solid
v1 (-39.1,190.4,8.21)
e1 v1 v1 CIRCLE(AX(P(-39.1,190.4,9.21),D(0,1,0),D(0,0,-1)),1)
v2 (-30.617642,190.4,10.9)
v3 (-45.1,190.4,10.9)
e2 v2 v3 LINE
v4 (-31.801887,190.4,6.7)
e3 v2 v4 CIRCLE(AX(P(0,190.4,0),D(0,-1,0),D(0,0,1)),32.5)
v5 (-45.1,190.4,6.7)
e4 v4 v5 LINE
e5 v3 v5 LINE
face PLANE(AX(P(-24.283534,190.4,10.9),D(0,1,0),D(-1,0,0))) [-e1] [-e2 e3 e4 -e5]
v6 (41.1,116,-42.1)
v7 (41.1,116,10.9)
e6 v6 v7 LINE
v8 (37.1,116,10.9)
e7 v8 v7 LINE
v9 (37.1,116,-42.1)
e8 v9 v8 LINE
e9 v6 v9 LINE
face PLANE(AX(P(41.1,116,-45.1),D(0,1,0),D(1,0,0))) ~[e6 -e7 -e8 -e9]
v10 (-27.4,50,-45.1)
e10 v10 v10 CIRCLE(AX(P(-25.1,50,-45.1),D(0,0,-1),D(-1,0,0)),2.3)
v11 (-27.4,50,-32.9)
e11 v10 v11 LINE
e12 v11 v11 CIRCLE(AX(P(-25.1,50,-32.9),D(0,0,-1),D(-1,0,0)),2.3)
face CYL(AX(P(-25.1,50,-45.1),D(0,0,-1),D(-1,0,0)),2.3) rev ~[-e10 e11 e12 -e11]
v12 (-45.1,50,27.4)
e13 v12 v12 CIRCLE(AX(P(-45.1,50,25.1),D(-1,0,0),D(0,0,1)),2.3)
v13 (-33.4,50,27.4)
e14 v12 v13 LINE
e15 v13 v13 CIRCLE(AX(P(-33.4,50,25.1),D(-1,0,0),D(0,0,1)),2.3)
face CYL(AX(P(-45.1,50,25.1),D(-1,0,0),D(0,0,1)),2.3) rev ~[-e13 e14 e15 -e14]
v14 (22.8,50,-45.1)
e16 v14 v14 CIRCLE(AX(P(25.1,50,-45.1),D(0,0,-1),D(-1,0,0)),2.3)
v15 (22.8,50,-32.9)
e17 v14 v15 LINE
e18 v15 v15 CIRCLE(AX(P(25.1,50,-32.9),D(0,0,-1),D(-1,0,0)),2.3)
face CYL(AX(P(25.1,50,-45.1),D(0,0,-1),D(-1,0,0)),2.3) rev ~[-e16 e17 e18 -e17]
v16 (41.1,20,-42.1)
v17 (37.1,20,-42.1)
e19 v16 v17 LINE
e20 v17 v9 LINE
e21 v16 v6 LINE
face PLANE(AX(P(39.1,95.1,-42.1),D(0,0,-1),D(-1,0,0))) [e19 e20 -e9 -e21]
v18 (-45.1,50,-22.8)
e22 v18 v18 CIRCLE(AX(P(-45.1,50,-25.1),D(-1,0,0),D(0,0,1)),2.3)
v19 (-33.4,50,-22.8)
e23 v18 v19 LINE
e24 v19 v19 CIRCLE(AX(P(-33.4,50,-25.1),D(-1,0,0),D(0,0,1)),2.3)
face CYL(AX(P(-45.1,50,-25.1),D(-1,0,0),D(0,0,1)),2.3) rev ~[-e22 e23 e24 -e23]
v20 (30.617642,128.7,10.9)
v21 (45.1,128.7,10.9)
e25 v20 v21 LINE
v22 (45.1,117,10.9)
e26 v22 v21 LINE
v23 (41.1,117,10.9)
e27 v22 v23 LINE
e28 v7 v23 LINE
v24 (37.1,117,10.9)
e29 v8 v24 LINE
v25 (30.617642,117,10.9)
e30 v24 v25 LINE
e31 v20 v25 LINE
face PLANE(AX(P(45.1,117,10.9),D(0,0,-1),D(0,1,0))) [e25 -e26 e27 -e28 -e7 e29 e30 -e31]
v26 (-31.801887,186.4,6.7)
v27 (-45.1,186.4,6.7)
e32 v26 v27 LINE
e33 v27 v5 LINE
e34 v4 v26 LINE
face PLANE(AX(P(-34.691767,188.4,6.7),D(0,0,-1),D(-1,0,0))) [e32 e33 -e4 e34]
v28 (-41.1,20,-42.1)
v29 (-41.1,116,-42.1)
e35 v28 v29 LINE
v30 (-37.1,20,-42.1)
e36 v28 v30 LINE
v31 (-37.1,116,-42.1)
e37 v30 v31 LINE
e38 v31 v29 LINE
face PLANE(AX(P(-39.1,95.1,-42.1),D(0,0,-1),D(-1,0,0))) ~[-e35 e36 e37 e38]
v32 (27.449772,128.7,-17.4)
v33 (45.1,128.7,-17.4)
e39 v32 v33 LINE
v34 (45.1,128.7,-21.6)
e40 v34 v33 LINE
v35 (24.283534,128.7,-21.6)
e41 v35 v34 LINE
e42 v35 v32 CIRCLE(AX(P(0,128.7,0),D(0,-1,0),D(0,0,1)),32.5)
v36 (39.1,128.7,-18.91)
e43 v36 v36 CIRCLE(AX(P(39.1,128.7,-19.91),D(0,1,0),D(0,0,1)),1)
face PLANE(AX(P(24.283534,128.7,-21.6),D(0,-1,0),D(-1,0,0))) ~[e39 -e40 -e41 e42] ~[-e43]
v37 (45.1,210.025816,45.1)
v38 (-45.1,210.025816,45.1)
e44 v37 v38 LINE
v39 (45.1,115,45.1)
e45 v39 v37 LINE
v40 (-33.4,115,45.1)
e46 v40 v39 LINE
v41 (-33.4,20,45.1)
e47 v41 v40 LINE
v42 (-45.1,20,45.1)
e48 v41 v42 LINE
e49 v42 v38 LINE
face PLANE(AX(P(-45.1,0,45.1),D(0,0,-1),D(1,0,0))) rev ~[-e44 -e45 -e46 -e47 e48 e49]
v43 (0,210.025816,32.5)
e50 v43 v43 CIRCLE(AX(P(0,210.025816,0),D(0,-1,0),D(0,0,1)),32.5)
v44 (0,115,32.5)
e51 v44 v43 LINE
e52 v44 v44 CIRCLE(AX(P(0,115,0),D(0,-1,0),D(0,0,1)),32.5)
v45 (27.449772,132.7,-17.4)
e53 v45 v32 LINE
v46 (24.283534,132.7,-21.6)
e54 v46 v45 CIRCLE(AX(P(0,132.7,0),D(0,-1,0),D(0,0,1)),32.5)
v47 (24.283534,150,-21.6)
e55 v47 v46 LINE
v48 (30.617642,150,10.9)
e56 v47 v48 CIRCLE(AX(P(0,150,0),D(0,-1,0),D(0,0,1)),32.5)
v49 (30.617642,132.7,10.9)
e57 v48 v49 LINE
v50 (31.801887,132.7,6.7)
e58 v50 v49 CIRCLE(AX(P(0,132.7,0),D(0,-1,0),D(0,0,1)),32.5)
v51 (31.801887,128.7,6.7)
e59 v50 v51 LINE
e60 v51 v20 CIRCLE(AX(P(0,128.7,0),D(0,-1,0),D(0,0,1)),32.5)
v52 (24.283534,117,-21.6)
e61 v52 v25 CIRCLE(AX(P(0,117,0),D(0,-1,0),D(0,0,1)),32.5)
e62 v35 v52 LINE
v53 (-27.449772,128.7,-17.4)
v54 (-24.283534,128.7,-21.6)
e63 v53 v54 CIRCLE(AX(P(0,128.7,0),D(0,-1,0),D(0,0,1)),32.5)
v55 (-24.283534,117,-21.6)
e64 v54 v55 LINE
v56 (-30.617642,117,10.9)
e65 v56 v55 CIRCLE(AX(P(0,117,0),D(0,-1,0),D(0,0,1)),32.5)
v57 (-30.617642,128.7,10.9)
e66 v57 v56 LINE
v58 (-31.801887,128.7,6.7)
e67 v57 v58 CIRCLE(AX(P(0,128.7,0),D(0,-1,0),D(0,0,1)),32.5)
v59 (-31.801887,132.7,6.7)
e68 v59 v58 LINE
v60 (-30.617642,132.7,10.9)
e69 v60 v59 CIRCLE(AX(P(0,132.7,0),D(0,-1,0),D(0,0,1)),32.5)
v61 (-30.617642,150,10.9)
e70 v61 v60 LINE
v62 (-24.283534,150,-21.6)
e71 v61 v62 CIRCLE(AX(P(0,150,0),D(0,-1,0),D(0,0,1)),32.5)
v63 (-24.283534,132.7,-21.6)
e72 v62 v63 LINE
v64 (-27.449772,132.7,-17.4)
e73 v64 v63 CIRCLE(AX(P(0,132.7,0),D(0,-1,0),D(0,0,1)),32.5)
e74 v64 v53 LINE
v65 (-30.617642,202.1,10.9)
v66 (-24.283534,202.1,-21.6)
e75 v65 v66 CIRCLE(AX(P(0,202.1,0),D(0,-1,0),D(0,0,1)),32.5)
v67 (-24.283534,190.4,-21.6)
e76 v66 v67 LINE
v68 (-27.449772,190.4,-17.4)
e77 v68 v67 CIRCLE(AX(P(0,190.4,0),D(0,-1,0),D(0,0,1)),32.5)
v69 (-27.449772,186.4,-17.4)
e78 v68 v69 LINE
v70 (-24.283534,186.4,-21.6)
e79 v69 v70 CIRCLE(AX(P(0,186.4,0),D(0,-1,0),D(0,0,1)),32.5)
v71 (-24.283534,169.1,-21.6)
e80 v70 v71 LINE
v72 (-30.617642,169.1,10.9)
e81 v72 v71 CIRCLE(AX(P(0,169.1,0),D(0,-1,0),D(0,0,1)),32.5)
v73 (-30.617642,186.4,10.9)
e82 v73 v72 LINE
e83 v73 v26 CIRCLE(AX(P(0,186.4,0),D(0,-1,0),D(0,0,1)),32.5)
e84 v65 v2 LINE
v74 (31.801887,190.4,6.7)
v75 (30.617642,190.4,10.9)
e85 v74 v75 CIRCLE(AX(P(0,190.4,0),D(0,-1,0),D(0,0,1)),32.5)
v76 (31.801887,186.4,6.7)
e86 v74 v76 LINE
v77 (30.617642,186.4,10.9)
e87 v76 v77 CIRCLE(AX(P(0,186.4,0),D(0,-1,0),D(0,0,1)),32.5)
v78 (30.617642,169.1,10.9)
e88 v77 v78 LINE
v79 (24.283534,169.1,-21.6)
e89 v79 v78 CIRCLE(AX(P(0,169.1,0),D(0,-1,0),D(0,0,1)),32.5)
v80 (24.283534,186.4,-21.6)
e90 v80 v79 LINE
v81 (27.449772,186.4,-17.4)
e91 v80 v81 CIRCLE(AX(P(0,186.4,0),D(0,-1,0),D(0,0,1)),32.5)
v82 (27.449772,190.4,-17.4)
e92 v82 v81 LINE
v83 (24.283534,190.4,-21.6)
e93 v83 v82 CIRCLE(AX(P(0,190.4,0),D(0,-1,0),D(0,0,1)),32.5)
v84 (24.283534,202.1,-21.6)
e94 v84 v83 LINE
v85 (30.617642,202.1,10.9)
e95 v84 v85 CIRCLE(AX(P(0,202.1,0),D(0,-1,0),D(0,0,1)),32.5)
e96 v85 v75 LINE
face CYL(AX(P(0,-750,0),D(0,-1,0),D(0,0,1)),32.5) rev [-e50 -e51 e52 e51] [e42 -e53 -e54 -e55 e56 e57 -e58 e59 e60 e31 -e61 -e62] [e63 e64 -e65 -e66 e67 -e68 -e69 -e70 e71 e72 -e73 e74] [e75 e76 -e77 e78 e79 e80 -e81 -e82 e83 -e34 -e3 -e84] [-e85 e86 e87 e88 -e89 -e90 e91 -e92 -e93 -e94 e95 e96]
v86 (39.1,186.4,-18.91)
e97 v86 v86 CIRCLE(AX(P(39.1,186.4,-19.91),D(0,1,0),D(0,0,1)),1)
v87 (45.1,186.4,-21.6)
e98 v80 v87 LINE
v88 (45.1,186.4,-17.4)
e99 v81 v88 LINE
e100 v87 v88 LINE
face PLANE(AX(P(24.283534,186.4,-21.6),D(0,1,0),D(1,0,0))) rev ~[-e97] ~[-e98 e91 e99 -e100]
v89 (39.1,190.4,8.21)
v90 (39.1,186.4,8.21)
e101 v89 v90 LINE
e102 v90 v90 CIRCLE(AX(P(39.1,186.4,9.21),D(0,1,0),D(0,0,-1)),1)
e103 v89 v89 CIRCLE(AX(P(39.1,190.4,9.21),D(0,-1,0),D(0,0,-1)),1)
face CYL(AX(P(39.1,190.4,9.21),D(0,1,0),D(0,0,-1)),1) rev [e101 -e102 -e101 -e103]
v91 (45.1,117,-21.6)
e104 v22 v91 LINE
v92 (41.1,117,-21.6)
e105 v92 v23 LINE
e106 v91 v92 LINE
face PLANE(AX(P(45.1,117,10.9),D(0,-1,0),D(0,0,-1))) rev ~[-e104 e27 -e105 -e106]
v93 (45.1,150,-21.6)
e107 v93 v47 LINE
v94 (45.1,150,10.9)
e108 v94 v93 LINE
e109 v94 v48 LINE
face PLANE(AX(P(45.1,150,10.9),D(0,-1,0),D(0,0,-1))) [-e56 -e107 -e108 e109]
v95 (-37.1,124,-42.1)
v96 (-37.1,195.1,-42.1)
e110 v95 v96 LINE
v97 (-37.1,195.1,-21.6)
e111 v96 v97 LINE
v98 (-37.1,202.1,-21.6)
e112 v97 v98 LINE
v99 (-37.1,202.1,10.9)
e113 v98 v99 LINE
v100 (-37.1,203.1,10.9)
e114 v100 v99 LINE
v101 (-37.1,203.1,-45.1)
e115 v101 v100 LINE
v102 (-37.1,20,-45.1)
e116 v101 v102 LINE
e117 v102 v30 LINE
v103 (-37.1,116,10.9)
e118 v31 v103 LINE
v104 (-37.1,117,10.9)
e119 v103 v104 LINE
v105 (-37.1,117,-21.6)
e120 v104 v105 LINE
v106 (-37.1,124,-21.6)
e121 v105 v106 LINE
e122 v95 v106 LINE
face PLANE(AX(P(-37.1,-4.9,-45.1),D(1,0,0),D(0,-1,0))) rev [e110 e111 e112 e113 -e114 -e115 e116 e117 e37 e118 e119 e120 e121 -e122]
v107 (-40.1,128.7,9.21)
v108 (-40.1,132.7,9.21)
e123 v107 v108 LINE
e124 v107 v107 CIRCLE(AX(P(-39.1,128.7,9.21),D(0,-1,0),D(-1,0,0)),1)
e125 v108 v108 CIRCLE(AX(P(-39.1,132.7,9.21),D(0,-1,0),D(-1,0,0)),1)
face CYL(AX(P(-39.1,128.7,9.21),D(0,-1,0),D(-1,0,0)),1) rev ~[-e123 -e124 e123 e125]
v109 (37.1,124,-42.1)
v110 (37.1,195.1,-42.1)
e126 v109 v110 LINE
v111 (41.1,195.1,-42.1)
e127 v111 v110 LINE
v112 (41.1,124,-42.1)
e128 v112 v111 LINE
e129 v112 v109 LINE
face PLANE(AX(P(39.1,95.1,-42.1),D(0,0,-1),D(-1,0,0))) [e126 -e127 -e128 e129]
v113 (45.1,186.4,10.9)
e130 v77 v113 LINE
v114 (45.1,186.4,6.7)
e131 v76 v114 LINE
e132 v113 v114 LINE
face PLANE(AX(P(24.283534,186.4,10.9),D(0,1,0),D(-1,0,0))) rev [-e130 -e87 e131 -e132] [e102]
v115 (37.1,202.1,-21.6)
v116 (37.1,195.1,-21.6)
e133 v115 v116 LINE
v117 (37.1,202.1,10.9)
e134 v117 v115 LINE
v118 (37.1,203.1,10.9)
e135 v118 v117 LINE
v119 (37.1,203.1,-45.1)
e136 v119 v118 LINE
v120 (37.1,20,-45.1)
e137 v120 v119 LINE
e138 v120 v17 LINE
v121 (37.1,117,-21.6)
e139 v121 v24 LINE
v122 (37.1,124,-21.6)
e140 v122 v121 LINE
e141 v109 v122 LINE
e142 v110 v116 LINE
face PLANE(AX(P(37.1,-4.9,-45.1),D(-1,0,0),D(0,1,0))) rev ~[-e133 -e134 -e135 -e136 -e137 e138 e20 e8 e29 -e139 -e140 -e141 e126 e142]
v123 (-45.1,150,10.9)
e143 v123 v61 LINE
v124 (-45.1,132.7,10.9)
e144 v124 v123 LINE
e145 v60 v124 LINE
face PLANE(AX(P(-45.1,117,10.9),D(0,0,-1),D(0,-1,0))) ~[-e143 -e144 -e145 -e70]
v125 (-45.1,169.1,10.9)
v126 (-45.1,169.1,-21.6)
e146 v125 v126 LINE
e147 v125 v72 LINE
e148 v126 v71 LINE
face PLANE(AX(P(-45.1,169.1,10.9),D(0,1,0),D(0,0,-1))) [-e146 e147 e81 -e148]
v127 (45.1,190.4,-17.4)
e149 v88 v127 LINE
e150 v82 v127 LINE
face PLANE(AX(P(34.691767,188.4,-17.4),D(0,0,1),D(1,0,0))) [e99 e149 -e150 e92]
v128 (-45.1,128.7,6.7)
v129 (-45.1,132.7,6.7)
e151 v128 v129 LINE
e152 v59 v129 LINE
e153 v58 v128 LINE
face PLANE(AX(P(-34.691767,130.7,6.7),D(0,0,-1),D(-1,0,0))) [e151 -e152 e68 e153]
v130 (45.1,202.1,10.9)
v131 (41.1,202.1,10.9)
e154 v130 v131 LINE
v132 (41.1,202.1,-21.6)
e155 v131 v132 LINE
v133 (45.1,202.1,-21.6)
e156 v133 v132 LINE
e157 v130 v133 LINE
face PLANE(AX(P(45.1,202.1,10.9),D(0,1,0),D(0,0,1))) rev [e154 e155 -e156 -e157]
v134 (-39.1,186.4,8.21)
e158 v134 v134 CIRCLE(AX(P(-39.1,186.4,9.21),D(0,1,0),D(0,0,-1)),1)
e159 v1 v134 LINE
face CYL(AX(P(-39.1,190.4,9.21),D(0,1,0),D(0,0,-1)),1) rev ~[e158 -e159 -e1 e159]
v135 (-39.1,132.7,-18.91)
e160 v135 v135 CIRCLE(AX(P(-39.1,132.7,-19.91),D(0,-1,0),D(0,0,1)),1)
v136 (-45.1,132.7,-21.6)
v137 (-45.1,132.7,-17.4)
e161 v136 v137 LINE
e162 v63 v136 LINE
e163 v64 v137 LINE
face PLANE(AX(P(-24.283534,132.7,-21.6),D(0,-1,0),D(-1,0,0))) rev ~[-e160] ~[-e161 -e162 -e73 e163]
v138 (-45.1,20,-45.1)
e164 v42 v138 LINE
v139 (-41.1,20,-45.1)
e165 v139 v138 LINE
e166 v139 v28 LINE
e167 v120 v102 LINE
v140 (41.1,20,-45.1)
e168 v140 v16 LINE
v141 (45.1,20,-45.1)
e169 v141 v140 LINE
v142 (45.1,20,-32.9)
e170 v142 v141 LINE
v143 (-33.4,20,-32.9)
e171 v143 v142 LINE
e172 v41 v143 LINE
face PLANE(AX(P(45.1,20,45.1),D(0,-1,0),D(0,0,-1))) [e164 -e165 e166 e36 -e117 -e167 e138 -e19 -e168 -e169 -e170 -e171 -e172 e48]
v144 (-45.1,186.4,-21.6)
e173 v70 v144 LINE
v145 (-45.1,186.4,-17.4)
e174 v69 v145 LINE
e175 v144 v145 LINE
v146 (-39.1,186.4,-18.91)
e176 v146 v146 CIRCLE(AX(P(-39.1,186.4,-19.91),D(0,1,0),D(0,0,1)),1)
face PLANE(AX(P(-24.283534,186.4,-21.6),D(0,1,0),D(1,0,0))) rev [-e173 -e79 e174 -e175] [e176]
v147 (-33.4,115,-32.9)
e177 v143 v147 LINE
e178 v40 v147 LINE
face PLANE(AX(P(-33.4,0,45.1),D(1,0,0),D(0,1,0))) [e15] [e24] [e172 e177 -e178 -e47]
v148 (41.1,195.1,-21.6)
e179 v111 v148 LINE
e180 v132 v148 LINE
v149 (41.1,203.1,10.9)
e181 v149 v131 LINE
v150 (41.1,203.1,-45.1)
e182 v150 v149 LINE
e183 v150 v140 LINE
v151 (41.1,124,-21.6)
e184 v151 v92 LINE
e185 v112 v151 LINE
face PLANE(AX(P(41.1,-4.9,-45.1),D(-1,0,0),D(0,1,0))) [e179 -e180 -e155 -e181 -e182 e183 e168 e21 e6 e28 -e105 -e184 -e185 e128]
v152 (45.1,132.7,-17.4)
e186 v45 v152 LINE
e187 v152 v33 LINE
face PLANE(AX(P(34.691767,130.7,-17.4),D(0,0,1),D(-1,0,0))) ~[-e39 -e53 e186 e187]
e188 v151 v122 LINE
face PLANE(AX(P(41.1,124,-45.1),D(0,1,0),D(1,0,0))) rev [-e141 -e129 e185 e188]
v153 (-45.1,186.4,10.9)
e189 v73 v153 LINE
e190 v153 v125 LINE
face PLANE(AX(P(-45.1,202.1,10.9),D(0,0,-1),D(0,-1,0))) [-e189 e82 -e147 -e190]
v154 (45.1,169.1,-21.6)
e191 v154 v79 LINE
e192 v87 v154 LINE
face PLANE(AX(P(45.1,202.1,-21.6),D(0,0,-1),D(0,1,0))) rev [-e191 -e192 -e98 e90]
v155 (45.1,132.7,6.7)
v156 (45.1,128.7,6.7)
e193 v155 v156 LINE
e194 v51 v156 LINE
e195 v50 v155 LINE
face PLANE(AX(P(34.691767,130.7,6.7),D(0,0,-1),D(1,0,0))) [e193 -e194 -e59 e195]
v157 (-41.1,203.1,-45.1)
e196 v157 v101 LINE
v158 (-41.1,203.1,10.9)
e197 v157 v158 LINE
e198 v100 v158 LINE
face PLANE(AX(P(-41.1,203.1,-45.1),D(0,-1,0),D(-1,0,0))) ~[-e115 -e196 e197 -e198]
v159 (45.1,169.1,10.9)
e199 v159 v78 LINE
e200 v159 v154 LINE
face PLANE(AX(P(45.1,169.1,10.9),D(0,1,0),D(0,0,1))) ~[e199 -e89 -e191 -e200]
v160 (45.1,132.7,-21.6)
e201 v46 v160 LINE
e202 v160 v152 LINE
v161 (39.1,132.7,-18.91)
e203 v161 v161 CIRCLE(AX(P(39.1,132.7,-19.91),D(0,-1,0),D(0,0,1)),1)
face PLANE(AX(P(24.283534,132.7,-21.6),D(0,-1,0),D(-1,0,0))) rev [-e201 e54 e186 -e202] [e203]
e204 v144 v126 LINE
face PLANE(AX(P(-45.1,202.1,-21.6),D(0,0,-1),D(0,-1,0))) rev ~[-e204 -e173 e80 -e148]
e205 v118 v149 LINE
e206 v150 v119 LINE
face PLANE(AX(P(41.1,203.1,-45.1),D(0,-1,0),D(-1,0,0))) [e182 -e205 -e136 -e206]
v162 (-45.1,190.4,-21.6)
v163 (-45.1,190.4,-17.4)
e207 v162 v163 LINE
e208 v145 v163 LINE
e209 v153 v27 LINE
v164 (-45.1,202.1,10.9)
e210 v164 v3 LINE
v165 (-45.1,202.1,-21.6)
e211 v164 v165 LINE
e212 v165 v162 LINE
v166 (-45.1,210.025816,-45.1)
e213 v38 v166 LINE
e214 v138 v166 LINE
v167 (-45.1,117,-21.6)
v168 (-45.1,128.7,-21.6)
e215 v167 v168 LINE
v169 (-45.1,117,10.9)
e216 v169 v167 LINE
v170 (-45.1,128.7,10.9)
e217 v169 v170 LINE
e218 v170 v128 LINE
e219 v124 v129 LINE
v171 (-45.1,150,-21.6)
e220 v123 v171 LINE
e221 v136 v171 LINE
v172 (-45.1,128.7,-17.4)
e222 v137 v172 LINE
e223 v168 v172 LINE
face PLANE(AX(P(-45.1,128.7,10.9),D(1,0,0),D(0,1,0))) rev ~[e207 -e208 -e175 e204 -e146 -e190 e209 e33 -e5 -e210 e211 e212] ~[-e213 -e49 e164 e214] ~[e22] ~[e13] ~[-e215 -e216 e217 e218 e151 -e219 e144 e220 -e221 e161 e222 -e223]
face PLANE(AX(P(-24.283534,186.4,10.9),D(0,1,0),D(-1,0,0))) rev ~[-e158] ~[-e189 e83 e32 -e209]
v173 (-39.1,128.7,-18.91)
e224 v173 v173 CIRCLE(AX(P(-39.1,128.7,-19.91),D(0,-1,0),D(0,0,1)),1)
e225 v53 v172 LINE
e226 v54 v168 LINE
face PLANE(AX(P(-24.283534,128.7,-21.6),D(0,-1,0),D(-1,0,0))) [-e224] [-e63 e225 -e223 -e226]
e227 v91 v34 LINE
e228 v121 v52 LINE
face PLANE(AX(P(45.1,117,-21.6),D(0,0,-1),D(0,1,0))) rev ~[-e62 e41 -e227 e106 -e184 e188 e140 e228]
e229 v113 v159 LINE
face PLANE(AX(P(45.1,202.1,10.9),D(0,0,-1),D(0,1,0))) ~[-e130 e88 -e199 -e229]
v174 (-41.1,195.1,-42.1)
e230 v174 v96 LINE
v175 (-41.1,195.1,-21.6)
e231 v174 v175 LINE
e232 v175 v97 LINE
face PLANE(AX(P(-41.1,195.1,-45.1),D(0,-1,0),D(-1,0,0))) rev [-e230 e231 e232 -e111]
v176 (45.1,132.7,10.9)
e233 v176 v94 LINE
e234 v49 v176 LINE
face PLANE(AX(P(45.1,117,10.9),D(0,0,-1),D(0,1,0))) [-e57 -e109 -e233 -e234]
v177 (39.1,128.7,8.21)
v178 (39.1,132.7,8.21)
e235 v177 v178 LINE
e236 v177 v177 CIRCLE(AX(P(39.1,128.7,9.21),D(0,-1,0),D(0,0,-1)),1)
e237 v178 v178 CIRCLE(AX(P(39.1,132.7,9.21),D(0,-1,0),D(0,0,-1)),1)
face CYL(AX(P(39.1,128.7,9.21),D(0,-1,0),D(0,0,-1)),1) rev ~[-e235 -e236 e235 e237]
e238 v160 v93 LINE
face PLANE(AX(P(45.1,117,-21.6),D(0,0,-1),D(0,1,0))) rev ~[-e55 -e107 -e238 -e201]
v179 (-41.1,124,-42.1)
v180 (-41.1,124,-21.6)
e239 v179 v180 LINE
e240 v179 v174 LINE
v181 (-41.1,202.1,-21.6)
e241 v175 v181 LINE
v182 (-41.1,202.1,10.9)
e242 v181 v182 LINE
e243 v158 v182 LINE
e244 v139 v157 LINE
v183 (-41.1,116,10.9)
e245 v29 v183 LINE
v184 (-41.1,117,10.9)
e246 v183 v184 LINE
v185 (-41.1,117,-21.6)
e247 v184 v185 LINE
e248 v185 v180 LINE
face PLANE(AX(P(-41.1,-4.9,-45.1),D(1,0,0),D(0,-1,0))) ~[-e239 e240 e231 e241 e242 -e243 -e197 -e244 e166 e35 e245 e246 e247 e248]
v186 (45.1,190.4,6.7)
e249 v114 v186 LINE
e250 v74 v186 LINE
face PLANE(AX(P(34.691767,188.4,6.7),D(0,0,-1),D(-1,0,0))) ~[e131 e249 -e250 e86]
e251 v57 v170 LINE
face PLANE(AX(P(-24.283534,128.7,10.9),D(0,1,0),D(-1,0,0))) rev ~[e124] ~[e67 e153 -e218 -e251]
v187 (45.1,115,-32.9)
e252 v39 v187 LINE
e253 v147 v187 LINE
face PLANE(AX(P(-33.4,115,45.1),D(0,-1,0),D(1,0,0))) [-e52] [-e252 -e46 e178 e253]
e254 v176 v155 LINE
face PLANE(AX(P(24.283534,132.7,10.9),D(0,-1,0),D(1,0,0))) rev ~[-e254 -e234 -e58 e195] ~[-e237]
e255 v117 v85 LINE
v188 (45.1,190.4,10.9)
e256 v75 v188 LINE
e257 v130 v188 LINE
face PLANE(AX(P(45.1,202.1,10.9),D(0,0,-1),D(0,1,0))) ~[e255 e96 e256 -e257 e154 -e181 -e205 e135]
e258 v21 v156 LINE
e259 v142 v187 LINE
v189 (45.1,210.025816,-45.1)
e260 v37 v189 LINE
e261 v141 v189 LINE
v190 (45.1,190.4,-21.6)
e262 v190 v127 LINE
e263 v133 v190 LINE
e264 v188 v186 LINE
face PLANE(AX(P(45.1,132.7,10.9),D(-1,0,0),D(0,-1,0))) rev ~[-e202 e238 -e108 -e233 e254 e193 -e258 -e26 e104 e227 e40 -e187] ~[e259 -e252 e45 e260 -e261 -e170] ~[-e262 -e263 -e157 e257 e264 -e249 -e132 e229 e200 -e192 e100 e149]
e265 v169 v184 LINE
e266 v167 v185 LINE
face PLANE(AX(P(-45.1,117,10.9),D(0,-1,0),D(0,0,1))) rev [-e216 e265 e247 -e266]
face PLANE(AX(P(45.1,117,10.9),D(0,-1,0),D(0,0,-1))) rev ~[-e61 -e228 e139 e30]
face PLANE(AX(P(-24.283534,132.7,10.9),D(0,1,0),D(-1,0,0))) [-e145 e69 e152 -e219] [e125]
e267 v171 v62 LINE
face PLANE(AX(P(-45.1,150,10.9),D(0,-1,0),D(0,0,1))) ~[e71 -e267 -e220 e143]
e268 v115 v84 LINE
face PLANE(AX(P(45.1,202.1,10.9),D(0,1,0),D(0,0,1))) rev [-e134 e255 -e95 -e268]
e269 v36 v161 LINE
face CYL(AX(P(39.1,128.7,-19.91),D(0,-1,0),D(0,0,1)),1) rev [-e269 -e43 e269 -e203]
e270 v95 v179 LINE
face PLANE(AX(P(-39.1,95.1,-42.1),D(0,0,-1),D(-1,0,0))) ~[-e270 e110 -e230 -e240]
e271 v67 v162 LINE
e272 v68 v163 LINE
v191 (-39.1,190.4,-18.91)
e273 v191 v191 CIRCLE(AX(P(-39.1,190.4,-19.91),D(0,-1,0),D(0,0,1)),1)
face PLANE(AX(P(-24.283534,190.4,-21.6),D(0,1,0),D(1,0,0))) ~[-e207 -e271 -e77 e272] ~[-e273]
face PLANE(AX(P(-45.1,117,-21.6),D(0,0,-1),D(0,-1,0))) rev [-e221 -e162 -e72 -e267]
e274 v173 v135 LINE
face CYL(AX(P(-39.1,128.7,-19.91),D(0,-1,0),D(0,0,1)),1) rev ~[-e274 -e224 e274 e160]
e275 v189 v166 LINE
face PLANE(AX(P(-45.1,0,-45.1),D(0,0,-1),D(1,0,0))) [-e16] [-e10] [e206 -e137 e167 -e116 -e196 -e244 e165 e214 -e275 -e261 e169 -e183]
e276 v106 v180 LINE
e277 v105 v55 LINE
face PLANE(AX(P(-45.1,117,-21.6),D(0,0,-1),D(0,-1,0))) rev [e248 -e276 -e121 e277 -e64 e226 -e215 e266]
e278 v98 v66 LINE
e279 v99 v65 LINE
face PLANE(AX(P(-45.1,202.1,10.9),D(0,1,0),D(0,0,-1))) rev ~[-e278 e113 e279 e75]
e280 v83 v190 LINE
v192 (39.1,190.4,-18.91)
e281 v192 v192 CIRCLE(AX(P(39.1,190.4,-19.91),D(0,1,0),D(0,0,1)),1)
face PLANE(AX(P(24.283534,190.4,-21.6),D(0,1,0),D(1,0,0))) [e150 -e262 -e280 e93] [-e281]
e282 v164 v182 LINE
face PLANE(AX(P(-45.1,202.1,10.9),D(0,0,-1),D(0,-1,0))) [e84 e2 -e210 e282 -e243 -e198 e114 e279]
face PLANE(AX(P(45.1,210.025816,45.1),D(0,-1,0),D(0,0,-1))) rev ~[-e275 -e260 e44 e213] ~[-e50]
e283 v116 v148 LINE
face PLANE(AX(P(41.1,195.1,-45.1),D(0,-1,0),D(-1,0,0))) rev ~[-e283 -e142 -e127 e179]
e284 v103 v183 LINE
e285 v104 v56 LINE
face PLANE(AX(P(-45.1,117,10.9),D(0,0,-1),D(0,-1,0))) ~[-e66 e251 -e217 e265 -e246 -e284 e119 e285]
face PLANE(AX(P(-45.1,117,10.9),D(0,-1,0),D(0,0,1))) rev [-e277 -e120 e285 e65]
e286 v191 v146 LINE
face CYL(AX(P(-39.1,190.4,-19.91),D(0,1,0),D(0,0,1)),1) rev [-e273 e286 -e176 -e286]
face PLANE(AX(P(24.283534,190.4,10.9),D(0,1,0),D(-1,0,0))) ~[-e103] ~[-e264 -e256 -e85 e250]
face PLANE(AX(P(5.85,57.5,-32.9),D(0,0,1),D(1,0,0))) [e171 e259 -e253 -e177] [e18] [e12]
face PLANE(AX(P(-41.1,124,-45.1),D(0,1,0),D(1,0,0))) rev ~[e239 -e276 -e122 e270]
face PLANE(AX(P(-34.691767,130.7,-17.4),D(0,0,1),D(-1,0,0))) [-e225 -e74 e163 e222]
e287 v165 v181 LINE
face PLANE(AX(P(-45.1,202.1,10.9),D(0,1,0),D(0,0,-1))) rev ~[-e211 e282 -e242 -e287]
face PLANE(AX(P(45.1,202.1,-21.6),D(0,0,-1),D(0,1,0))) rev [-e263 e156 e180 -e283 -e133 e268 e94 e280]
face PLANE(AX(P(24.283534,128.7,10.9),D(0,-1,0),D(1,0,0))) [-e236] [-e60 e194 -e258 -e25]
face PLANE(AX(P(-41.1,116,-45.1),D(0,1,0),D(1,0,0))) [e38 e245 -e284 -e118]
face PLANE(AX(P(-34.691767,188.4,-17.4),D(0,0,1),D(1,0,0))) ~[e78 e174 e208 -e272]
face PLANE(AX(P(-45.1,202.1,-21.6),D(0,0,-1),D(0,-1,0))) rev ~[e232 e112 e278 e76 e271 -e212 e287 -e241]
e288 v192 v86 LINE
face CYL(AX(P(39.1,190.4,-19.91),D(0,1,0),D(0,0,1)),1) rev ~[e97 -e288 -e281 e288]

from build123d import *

# Parameters (mm, degrees)
SKETCH2_W                      = 90.2
SKETCH2_H                      = 90.2
SKETCH2_R                      = 32.5
BOSS_EXTRUDE2_DEPTH            = 250
SKETCH3_W                      = 78.5
SKETCH3_H                      = 115
CUT_EXTRUDE1_DEPTH             = 78
SKETCH6_W                      = 32.5
SKETCH6_H                      = 33
CUT_EXTRUDE4_DEPTH             = 32.6
MIRROR3_COPY_1_SKETCH_W        = 32.5
MIRROR3_COPY_1_SKETCH_H        = 33
MIRROR3_COPY_1_DEPTH           = 32.6
MIRROR3_COPY_2_SKETCH_W        = 32.5
MIRROR3_COPY_2_SKETCH_H        = 33
MIRROR3_COPY_2_DEPTH           = 32.6
CUT_EXTRUDE5_REACH             = 271.574
SKETCH10_W                     = 4
SKETCH10_H                     = 8
CUT_EXTRUDE5_DIRECTION_2_DEPTH = 270.573830332
SKETCH11_W                     = 4
SKETCH11_H                     = 200
CUT_EXTRUDE6_DEPTH             = 3
MIRROR7_COPY_1_REACH           = 271.574
MIRROR7_COPY_1_SKETCH_W        = 4
MIRROR7_COPY_1_SKETCH_H        = 8
MIRROR7_COPY_2_SKETCH_W        = 4
MIRROR7_COPY_2_SKETCH_H        = 8
MIRROR7_COPY_2_DEPTH           = 270.573830332
MIRROR7_COPY_3_REACH           = 271.574
MIRROR7_COPY_3_SKETCH_W        = 4
MIRROR7_COPY_3_SKETCH_H        = 8
MIRROR7_COPY_4_SKETCH_W        = 4
MIRROR7_COPY_4_SKETCH_H        = 8
MIRROR7_COPY_4_DEPTH           = 270.573830332
SKETCH12_W                     = 20.816466484
SKETCH12_H                     = 4
BOSS_EXTRUDE3_DEPTH            = 4.2
SKETCH13_R                     = 1
CUT_EXTRUDE7_DEPTH             = 10
MIRROR9_COPY_1_SKETCH_W        = 20.816466484
MIRROR9_COPY_1_SKETCH_H        = 4
MIRROR9_COPY_1_DEPTH           = 4.2
MIRROR9_COPY_2_SKETCH_R        = 1
MIRROR9_COPY_2_DEPTH           = 10
MIRROR10_COPY_1_SKETCH_W       = 20.816466484
MIRROR10_COPY_1_SKETCH_H       = 4
MIRROR10_COPY_1_DEPTH          = 4.2
MIRROR10_COPY_2_SKETCH_R       = 1
MIRROR10_COPY_2_DEPTH          = 10
MIRROR10_COPY_3_SKETCH_W       = 20.816466484
MIRROR10_COPY_3_SKETCH_H       = 4
MIRROR10_COPY_3_DEPTH          = 4.2
MIRROR10_COPY_4_SKETCH_R       = 1
MIRROR10_COPY_4_DEPTH          = 10
MIRROR10_COPY_5_SKETCH_W       = 20.816466484
MIRROR10_COPY_5_SKETCH_H       = 4
MIRROR10_COPY_5_DEPTH          = 4.2
MIRROR10_COPY_6_SKETCH_R       = 1
MIRROR10_COPY_6_DEPTH          = 10
CUT_EXTRUDE8_START             = -1000
SKETCH14_R                     = 32.5
CUT_EXTRUDE8_DEPTH             = 1000
SKETCH15_W                     = 90.2
SKETCH15_H                     = 39.974184268
CUT_EXTRUDE9_DEPTH             = 270.573830332
SKETCH16_W                     = 90.2
SKETCH16_H                     = 20
CUT_EXTRUDE10_DEPTH            = 233.982602942
SKETCH19_R                     = 2.3
CUT_EXTRUDE11_DEPTH            = 233.982602942
CIRPATTERN1_COUNT              = 2
CIRPATTERN1_ANGLE              = 90


with BuildPart() as part:
    # Sketch2 → Boss-Extrude2 (new body)
    with BuildSketch(Plane(origin=(0, 0, 0), x_dir=(1, 0, 0), z_dir=(0, 1, 0))):
        Rectangle(SKETCH2_W, SKETCH2_H)
        with Locations(Location((0, 0, 0), (0, 0, 270))):
            Circle(SKETCH2_R, mode=Mode.SUBTRACT)
    extrude(amount=BOSS_EXTRUDE2_DEPTH)

    # Sketch3 → Cut-Extrude1 (cut)
    with BuildSketch(Plane.XY.offset(45.1)):
        with Locations((5.85, 57.5)):
            Rectangle(SKETCH3_W, SKETCH3_H)
    extrude(amount=-CUT_EXTRUDE1_DEPTH, mode=Mode.SUBTRACT)

    # Sketch6 → Cut-Extrude4 (cut)
    with BuildSketch(Plane(origin=(45.1, 0, 0), x_dir=(0, 0, -1), z_dir=(1, 0, 0))):
        with Locations((5.35, 133.5)):
            Rectangle(SKETCH6_W, SKETCH6_H)
    cut_extrude4 = extrude(amount=-CUT_EXTRUDE4_DEPTH, mode=Mode.SUBTRACT)

    # Mirror1: Cut-Extrude4 across plane
    add(cut_extrude4.mirror(Plane(origin=(0, 0, 0), x_dir=(0, 0, 1), z_dir=(1, 0, 0))), mode=Mode.SUBTRACT)

    # Mirror2: Cut-Extrude4 across plane
    add(cut_extrude4.mirror(Plane(origin=(0, 159.55, 0), x_dir=(0, 0, 1), z_dir=(0, -1, 0))), mode=Mode.SUBTRACT)

    # Mirror3 copy 1 sketch → Mirror3 copy 1 (cut)
    with BuildSketch(Plane(origin=(-45.1, 319.1, 0), x_dir=(0, 0, -1), z_dir=(-1, 0, 0))):
        with Locations((5.35, 133.5)):
            Rectangle(MIRROR3_COPY_1_SKETCH_W, MIRROR3_COPY_1_SKETCH_H)
    extrude(amount=-MIRROR3_COPY_1_DEPTH, mode=Mode.SUBTRACT)

    # Mirror3 copy 2 sketch → Mirror3 copy 2 (cut)
    with BuildSketch(Plane(origin=(-45.1, 0, 0), x_dir=(0, 0, -1), z_dir=(-1, 0, 0))):
        with Locations((5.35, -133.5)):
            Rectangle(MIRROR3_COPY_2_SKETCH_W, MIRROR3_COPY_2_SKETCH_H)
    extrude(amount=-MIRROR3_COPY_2_DEPTH, mode=Mode.SUBTRACT)

    # Cut-Extrude5: up to this face of the body (flat: up to its plane)
    cut_extrude5_end = Plane(part.part.faces().sort_by_distance((37.858820987, 185.6, 10.9))[0])
    # Sketch10 → Cut-Extrude5 (cut, up to the picked face)
    with BuildSketch(Plane(origin=(0, 0, -45.1), x_dir=(-1, 0, 0), z_dir=(0, 0, -1)), mode=Mode.PRIVATE) as cut_extrude5_sk1:
        with Locations((-39.1, 199.1)):
            Rectangle(SKETCH10_W, SKETCH10_H)
    cut_extrude5_tool1 = split(extrude(cut_extrude5_sk1.sketch, amount=-CUT_EXTRUDE5_REACH, mode=Mode.PRIVATE), bisect_by=cut_extrude5_end, keep=Keep.BOTH, mode=Mode.PRIVATE)
    cut_extrude5 = cut_extrude5_tool1.solids().sort_by(Axis((39.1, 199.1, -45.1), (0, 0, 1)))[0]
    add(cut_extrude5, mode=Mode.SUBTRACT)

    # Sketch10 → Cut-Extrude5 direction 2 (cut)
    with BuildSketch(Plane(origin=(0, 0, -45.1), x_dir=(-1, 0, 0), z_dir=(0, 0, -1))):
        with Locations((-39.1, 199.1)):
            Rectangle(SKETCH10_W, SKETCH10_H)
    cut_extrude5_direction_2 = extrude(amount=CUT_EXTRUDE5_DIRECTION_2_DEPTH, mode=Mode.SUBTRACT)

    # Sketch11 → Cut-Extrude6 (cut)
    with BuildSketch(Plane(origin=(0, 0, -45.1), x_dir=(-1, 0, 0), z_dir=(0, 0, -1))):
        with Locations((-39.1, 95.1)):
            Rectangle(SKETCH11_W, SKETCH11_H)
    cut_extrude6 = extrude(amount=-CUT_EXTRUDE6_DEPTH, mode=Mode.SUBTRACT)

    # Mirror4: Cut-Extrude5, Cut-Extrude5 direction 2 across plane
    add(cut_extrude5.mirror(Plane(origin=(0, 159.55, 0), x_dir=(0, 0, 1), z_dir=(0, -1, 0))), mode=Mode.SUBTRACT)
    add(cut_extrude5_direction_2.mirror(Plane(origin=(0, 159.55, 0), x_dir=(0, 0, 1), z_dir=(0, -1, 0))), mode=Mode.SUBTRACT)

    # Mirror5: Cut-Extrude5, Cut-Extrude5 direction 2 across plane
    add(cut_extrude5.mirror(Plane(origin=(0, 0, 0), x_dir=(0, 0, 1), z_dir=(1, 0, 0))), mode=Mode.SUBTRACT)
    add(cut_extrude5_direction_2.mirror(Plane(origin=(0, 0, 0), x_dir=(0, 0, 1), z_dir=(1, 0, 0))), mode=Mode.SUBTRACT)

    # Mirror6: Cut-Extrude6 across plane
    add(cut_extrude6.mirror(Plane(origin=(0, 0, 0), x_dir=(0, 0, 1), z_dir=(1, 0, 0))), mode=Mode.SUBTRACT)

    # Mirror7 copy 1: up to this face of the body (flat: up to its plane)
    mirror7_copy_1_end = Plane(part.part.faces().sort_by_distance((-37.858820987, 133.5, 10.9))[0])
    # Mirror7 copy 1 sketch → Mirror7 copy 1 (cut, up to the picked face)
    with BuildSketch(Plane(origin=(0, 319.1, -45.1), x_dir=(1, 0, 0), z_dir=(0, 0, -1)), mode=Mode.PRIVATE) as mirror7_copy_1_sk1:
        with Locations((-39.1, 199.1)):
            Rectangle(MIRROR7_COPY_1_SKETCH_W, MIRROR7_COPY_1_SKETCH_H)
    mirror7_copy_1_tool1 = split(extrude(mirror7_copy_1_sk1.sketch, amount=-MIRROR7_COPY_1_REACH, mode=Mode.PRIVATE), bisect_by=mirror7_copy_1_end, keep=Keep.BOTH, mode=Mode.PRIVATE)
    add(mirror7_copy_1_tool1.solids().sort_by(Axis((-39.1, 120, -45.1), (0, 0, 1)))[0], mode=Mode.SUBTRACT)

    # Mirror7 copy 2 sketch → Mirror7 copy 2 (cut)
    with BuildSketch(Plane(origin=(0, 319.1, -45.1), x_dir=(1, 0, 0), z_dir=(0, 0, -1))):
        with Locations((-39.1, 199.1)):
            Rectangle(MIRROR7_COPY_2_SKETCH_W, MIRROR7_COPY_2_SKETCH_H)
    extrude(amount=MIRROR7_COPY_2_DEPTH, mode=Mode.SUBTRACT)

    # Mirror7 copy 3: up to this face of the body (flat: up to its plane)
    mirror7_copy_3_end = Plane(part.part.faces().sort_by_distance((-37.858820987, 185.6, 10.9))[0])
    # Mirror7 copy 3 sketch → Mirror7 copy 3 (cut, up to the picked face)
    with BuildSketch(Plane(origin=(0, 0, -45.1), x_dir=(1, 0, 0), z_dir=(0, 0, -1)), mode=Mode.PRIVATE) as mirror7_copy_3_sk1:
        with Locations((-39.1, -199.1)):
            Rectangle(MIRROR7_COPY_3_SKETCH_W, MIRROR7_COPY_3_SKETCH_H)
    mirror7_copy_3_tool1 = split(extrude(mirror7_copy_3_sk1.sketch, amount=-MIRROR7_COPY_3_REACH, mode=Mode.PRIVATE), bisect_by=mirror7_copy_3_end, keep=Keep.BOTH, mode=Mode.PRIVATE)
    add(mirror7_copy_3_tool1.solids().sort_by(Axis((-39.1, 199.1, -45.1), (0, 0, 1)))[0], mode=Mode.SUBTRACT)

    # Mirror7 copy 4 sketch → Mirror7 copy 4 (cut)
    with BuildSketch(Plane(origin=(0, 0, -45.1), x_dir=(1, 0, 0), z_dir=(0, 0, -1))):
        with Locations((-39.1, -199.1)):
            Rectangle(MIRROR7_COPY_4_SKETCH_W, MIRROR7_COPY_4_SKETCH_H)
    extrude(amount=MIRROR7_COPY_4_DEPTH, mode=Mode.SUBTRACT)

    # Sketch12 → Boss-Extrude3 (add)
    with BuildSketch(Plane.XY.offset(-21.6)):
        with Locations((34.691766758, 188.4)):
            Rectangle(SKETCH12_W, SKETCH12_H)
    boss_extrude3 = extrude(amount=BOSS_EXTRUDE3_DEPTH)

    # Sketch13 → Cut-Extrude7 (cut)
    with BuildSketch(Plane(origin=(0, 190.4, 0), x_dir=(1, 0, 0), z_dir=(0, 1, 0))):
        with Locations(Location((39.1, 19.91, 0), (0, 0, 270))):
            Circle(SKETCH13_R)
    cut_extrude7 = extrude(amount=-CUT_EXTRUDE7_DEPTH, mode=Mode.SUBTRACT)

    # Mirror8: Boss-Extrude3, Cut-Extrude7 across plane
    add(boss_extrude3.mirror(Plane(origin=(0, 0, -5.35), x_dir=(1, 0, 0), z_dir=(0, 0, -1))))
    add(cut_extrude7.mirror(Plane(origin=(0, 0, -5.35), x_dir=(1, 0, 0), z_dir=(0, 0, -1))), mode=Mode.SUBTRACT)

    # Mirror9: Boss-Extrude3, Cut-Extrude7 across plane
    add(boss_extrude3.mirror(Plane(origin=(0, 159.55, 0), x_dir=(0, 0, 1), z_dir=(0, -1, 0))))
    add(cut_extrude7.mirror(Plane(origin=(0, 159.55, 0), x_dir=(0, 0, 1), z_dir=(0, -1, 0))), mode=Mode.SUBTRACT)

    # Mirror9 copy 1 sketch → Mirror9 copy 1 (add)
    with BuildSketch(Plane(origin=(0, 319.1, 10.9), x_dir=(1, 0, 0), z_dir=(0, 0, -1))):
        with Locations((34.691766758, 188.4)):
            Rectangle(MIRROR9_COPY_1_SKETCH_W, MIRROR9_COPY_1_SKETCH_H)
    extrude(amount=MIRROR9_COPY_1_DEPTH)

    # Mirror9 copy 2 sketch → Mirror9 copy 2 (cut)
    with BuildSketch(Plane(origin=(0, 128.7, -10.7), x_dir=(1, 0, 0), z_dir=(0, -1, 0))):
        with Locations(Location((39.1, 19.91, 0), (0, 0, 270))):
            Circle(MIRROR9_COPY_2_SKETCH_R)
    extrude(amount=-MIRROR9_COPY_2_DEPTH, mode=Mode.SUBTRACT)

    # Mirror10: Boss-Extrude3, Cut-Extrude7 across plane
    add(boss_extrude3.mirror(Plane(origin=(0, 0, 0), x_dir=(0, 0, 1), z_dir=(1, 0, 0))))
    add(cut_extrude7.mirror(Plane(origin=(0, 0, 0), x_dir=(0, 0, 1), z_dir=(1, 0, 0))), mode=Mode.SUBTRACT)

    # Mirror10 copy 1 sketch → Mirror10 copy 1 (add)
    with BuildSketch(Plane(origin=(0, 0, 10.9), x_dir=(-1, 0, 0), z_dir=(0, 0, -1))):
        with Locations((34.691766758, 188.4)):
            Rectangle(MIRROR10_COPY_1_SKETCH_W, MIRROR10_COPY_1_SKETCH_H)
    extrude(amount=MIRROR10_COPY_1_DEPTH)

    # Mirror10 copy 2 sketch → Mirror10 copy 2 (cut)
    with BuildSketch(Plane(origin=(0, 190.4, -10.7), x_dir=(-1, 0, 0), z_dir=(0, 1, 0))):
        with Locations(Location((39.1, 19.91, 0), (0, 0, 270))):
            Circle(MIRROR10_COPY_2_SKETCH_R)
    extrude(amount=-MIRROR10_COPY_2_DEPTH, mode=Mode.SUBTRACT)

    # Mirror10 copy 3 sketch → Mirror10 copy 3 (add)
    with BuildSketch(Plane(origin=(0, 319.1, -21.6), x_dir=(-1, 0, 0), z_dir=(0, 0, 1))):
        with Locations((34.691766758, 188.4)):
            Rectangle(MIRROR10_COPY_3_SKETCH_W, MIRROR10_COPY_3_SKETCH_H)
    extrude(amount=MIRROR10_COPY_3_DEPTH)

    # Mirror10 copy 4 sketch → Mirror10 copy 4 (cut)
    with BuildSketch(Plane(origin=(0, 128.7, 0), x_dir=(-1, 0, 0), z_dir=(0, -1, 0))):
        with Locations(Location((39.1, 19.91, 0), (0, 0, 270))):
            Circle(MIRROR10_COPY_4_SKETCH_R)
    extrude(amount=-MIRROR10_COPY_4_DEPTH, mode=Mode.SUBTRACT)

    # Mirror10 copy 5 sketch → Mirror10 copy 5 (add)
    with BuildSketch(Plane(origin=(0, 319.1, 10.9), x_dir=(-1, 0, 0), z_dir=(0, 0, -1))):
        with Locations((34.691766758, -188.4)):
            Rectangle(MIRROR10_COPY_5_SKETCH_W, MIRROR10_COPY_5_SKETCH_H)
    extrude(amount=MIRROR10_COPY_5_DEPTH)

    # Mirror10 copy 6 sketch → Mirror10 copy 6 (cut)
    with BuildSketch(Plane(origin=(0, 128.7, -10.7), x_dir=(-1, 0, 0), z_dir=(0, -1, 0))):
        with Locations((39.1, -19.91)):
            Circle(MIRROR10_COPY_6_SKETCH_R)
    extrude(amount=-MIRROR10_COPY_6_DEPTH, mode=Mode.SUBTRACT)

    # Sketch14 → Cut-Extrude8 (cut)
    with BuildSketch(Plane(origin=(0, 250, 0), x_dir=(1, 0, 0), z_dir=(0, 1, 0)).offset(CUT_EXTRUDE8_START)):
        with Locations(Location((0, 0, 0), (0, 0, 270))):
            Circle(SKETCH14_R)
    extrude(amount=CUT_EXTRUDE8_DEPTH, mode=Mode.SUBTRACT)

    # Sketch15 → Cut-Extrude9 (cut, through all)
    with BuildSketch(Plane(origin=(45.1, 0, 0), x_dir=(0, 0, -1), z_dir=(1, 0, 0))):
        with Locations((0, 230.012907866)):
            Rectangle(SKETCH15_W, SKETCH15_H)
    extrude(amount=-CUT_EXTRUDE9_DEPTH, mode=Mode.SUBTRACT)

    # Sketch16 → Cut-Extrude10 (cut, through all)
    with BuildSketch(Plane(origin=(45.1, 0, 0), x_dir=(0, 0, -1), z_dir=(1, 0, 0))):
        with Locations((0, 10)):
            Rectangle(SKETCH16_W, SKETCH16_H)
    extrude(amount=-CUT_EXTRUDE10_DEPTH, mode=Mode.SUBTRACT)

    # Sketch19 → Cut-Extrude11 (cut, through all)
    with BuildSketch(Plane.ZY.offset(45.1)):
        with Locations((-25.1, 50)):
            Circle(SKETCH19_R)
        with Locations((25.1, 50)):
            Circle(SKETCH19_R)
    cut_extrude11 = extrude(amount=-CUT_EXTRUDE11_DEPTH, mode=Mode.SUBTRACT)

    # CirPattern1: Cut-Extrude11 ×2 about axis
    cirpattern1_axis = Axis((0, 210.025815732, 0), (0, -1, 0))
    for i in range(1, CIRPATTERN1_COUNT):
        add(cut_extrude11.rotate(cirpattern1_axis, i * CIRPATTERN1_ANGLE / (CIRPATTERN1_COUNT - 1)), mode=Mode.SUBTRACT)


solid = part.part
